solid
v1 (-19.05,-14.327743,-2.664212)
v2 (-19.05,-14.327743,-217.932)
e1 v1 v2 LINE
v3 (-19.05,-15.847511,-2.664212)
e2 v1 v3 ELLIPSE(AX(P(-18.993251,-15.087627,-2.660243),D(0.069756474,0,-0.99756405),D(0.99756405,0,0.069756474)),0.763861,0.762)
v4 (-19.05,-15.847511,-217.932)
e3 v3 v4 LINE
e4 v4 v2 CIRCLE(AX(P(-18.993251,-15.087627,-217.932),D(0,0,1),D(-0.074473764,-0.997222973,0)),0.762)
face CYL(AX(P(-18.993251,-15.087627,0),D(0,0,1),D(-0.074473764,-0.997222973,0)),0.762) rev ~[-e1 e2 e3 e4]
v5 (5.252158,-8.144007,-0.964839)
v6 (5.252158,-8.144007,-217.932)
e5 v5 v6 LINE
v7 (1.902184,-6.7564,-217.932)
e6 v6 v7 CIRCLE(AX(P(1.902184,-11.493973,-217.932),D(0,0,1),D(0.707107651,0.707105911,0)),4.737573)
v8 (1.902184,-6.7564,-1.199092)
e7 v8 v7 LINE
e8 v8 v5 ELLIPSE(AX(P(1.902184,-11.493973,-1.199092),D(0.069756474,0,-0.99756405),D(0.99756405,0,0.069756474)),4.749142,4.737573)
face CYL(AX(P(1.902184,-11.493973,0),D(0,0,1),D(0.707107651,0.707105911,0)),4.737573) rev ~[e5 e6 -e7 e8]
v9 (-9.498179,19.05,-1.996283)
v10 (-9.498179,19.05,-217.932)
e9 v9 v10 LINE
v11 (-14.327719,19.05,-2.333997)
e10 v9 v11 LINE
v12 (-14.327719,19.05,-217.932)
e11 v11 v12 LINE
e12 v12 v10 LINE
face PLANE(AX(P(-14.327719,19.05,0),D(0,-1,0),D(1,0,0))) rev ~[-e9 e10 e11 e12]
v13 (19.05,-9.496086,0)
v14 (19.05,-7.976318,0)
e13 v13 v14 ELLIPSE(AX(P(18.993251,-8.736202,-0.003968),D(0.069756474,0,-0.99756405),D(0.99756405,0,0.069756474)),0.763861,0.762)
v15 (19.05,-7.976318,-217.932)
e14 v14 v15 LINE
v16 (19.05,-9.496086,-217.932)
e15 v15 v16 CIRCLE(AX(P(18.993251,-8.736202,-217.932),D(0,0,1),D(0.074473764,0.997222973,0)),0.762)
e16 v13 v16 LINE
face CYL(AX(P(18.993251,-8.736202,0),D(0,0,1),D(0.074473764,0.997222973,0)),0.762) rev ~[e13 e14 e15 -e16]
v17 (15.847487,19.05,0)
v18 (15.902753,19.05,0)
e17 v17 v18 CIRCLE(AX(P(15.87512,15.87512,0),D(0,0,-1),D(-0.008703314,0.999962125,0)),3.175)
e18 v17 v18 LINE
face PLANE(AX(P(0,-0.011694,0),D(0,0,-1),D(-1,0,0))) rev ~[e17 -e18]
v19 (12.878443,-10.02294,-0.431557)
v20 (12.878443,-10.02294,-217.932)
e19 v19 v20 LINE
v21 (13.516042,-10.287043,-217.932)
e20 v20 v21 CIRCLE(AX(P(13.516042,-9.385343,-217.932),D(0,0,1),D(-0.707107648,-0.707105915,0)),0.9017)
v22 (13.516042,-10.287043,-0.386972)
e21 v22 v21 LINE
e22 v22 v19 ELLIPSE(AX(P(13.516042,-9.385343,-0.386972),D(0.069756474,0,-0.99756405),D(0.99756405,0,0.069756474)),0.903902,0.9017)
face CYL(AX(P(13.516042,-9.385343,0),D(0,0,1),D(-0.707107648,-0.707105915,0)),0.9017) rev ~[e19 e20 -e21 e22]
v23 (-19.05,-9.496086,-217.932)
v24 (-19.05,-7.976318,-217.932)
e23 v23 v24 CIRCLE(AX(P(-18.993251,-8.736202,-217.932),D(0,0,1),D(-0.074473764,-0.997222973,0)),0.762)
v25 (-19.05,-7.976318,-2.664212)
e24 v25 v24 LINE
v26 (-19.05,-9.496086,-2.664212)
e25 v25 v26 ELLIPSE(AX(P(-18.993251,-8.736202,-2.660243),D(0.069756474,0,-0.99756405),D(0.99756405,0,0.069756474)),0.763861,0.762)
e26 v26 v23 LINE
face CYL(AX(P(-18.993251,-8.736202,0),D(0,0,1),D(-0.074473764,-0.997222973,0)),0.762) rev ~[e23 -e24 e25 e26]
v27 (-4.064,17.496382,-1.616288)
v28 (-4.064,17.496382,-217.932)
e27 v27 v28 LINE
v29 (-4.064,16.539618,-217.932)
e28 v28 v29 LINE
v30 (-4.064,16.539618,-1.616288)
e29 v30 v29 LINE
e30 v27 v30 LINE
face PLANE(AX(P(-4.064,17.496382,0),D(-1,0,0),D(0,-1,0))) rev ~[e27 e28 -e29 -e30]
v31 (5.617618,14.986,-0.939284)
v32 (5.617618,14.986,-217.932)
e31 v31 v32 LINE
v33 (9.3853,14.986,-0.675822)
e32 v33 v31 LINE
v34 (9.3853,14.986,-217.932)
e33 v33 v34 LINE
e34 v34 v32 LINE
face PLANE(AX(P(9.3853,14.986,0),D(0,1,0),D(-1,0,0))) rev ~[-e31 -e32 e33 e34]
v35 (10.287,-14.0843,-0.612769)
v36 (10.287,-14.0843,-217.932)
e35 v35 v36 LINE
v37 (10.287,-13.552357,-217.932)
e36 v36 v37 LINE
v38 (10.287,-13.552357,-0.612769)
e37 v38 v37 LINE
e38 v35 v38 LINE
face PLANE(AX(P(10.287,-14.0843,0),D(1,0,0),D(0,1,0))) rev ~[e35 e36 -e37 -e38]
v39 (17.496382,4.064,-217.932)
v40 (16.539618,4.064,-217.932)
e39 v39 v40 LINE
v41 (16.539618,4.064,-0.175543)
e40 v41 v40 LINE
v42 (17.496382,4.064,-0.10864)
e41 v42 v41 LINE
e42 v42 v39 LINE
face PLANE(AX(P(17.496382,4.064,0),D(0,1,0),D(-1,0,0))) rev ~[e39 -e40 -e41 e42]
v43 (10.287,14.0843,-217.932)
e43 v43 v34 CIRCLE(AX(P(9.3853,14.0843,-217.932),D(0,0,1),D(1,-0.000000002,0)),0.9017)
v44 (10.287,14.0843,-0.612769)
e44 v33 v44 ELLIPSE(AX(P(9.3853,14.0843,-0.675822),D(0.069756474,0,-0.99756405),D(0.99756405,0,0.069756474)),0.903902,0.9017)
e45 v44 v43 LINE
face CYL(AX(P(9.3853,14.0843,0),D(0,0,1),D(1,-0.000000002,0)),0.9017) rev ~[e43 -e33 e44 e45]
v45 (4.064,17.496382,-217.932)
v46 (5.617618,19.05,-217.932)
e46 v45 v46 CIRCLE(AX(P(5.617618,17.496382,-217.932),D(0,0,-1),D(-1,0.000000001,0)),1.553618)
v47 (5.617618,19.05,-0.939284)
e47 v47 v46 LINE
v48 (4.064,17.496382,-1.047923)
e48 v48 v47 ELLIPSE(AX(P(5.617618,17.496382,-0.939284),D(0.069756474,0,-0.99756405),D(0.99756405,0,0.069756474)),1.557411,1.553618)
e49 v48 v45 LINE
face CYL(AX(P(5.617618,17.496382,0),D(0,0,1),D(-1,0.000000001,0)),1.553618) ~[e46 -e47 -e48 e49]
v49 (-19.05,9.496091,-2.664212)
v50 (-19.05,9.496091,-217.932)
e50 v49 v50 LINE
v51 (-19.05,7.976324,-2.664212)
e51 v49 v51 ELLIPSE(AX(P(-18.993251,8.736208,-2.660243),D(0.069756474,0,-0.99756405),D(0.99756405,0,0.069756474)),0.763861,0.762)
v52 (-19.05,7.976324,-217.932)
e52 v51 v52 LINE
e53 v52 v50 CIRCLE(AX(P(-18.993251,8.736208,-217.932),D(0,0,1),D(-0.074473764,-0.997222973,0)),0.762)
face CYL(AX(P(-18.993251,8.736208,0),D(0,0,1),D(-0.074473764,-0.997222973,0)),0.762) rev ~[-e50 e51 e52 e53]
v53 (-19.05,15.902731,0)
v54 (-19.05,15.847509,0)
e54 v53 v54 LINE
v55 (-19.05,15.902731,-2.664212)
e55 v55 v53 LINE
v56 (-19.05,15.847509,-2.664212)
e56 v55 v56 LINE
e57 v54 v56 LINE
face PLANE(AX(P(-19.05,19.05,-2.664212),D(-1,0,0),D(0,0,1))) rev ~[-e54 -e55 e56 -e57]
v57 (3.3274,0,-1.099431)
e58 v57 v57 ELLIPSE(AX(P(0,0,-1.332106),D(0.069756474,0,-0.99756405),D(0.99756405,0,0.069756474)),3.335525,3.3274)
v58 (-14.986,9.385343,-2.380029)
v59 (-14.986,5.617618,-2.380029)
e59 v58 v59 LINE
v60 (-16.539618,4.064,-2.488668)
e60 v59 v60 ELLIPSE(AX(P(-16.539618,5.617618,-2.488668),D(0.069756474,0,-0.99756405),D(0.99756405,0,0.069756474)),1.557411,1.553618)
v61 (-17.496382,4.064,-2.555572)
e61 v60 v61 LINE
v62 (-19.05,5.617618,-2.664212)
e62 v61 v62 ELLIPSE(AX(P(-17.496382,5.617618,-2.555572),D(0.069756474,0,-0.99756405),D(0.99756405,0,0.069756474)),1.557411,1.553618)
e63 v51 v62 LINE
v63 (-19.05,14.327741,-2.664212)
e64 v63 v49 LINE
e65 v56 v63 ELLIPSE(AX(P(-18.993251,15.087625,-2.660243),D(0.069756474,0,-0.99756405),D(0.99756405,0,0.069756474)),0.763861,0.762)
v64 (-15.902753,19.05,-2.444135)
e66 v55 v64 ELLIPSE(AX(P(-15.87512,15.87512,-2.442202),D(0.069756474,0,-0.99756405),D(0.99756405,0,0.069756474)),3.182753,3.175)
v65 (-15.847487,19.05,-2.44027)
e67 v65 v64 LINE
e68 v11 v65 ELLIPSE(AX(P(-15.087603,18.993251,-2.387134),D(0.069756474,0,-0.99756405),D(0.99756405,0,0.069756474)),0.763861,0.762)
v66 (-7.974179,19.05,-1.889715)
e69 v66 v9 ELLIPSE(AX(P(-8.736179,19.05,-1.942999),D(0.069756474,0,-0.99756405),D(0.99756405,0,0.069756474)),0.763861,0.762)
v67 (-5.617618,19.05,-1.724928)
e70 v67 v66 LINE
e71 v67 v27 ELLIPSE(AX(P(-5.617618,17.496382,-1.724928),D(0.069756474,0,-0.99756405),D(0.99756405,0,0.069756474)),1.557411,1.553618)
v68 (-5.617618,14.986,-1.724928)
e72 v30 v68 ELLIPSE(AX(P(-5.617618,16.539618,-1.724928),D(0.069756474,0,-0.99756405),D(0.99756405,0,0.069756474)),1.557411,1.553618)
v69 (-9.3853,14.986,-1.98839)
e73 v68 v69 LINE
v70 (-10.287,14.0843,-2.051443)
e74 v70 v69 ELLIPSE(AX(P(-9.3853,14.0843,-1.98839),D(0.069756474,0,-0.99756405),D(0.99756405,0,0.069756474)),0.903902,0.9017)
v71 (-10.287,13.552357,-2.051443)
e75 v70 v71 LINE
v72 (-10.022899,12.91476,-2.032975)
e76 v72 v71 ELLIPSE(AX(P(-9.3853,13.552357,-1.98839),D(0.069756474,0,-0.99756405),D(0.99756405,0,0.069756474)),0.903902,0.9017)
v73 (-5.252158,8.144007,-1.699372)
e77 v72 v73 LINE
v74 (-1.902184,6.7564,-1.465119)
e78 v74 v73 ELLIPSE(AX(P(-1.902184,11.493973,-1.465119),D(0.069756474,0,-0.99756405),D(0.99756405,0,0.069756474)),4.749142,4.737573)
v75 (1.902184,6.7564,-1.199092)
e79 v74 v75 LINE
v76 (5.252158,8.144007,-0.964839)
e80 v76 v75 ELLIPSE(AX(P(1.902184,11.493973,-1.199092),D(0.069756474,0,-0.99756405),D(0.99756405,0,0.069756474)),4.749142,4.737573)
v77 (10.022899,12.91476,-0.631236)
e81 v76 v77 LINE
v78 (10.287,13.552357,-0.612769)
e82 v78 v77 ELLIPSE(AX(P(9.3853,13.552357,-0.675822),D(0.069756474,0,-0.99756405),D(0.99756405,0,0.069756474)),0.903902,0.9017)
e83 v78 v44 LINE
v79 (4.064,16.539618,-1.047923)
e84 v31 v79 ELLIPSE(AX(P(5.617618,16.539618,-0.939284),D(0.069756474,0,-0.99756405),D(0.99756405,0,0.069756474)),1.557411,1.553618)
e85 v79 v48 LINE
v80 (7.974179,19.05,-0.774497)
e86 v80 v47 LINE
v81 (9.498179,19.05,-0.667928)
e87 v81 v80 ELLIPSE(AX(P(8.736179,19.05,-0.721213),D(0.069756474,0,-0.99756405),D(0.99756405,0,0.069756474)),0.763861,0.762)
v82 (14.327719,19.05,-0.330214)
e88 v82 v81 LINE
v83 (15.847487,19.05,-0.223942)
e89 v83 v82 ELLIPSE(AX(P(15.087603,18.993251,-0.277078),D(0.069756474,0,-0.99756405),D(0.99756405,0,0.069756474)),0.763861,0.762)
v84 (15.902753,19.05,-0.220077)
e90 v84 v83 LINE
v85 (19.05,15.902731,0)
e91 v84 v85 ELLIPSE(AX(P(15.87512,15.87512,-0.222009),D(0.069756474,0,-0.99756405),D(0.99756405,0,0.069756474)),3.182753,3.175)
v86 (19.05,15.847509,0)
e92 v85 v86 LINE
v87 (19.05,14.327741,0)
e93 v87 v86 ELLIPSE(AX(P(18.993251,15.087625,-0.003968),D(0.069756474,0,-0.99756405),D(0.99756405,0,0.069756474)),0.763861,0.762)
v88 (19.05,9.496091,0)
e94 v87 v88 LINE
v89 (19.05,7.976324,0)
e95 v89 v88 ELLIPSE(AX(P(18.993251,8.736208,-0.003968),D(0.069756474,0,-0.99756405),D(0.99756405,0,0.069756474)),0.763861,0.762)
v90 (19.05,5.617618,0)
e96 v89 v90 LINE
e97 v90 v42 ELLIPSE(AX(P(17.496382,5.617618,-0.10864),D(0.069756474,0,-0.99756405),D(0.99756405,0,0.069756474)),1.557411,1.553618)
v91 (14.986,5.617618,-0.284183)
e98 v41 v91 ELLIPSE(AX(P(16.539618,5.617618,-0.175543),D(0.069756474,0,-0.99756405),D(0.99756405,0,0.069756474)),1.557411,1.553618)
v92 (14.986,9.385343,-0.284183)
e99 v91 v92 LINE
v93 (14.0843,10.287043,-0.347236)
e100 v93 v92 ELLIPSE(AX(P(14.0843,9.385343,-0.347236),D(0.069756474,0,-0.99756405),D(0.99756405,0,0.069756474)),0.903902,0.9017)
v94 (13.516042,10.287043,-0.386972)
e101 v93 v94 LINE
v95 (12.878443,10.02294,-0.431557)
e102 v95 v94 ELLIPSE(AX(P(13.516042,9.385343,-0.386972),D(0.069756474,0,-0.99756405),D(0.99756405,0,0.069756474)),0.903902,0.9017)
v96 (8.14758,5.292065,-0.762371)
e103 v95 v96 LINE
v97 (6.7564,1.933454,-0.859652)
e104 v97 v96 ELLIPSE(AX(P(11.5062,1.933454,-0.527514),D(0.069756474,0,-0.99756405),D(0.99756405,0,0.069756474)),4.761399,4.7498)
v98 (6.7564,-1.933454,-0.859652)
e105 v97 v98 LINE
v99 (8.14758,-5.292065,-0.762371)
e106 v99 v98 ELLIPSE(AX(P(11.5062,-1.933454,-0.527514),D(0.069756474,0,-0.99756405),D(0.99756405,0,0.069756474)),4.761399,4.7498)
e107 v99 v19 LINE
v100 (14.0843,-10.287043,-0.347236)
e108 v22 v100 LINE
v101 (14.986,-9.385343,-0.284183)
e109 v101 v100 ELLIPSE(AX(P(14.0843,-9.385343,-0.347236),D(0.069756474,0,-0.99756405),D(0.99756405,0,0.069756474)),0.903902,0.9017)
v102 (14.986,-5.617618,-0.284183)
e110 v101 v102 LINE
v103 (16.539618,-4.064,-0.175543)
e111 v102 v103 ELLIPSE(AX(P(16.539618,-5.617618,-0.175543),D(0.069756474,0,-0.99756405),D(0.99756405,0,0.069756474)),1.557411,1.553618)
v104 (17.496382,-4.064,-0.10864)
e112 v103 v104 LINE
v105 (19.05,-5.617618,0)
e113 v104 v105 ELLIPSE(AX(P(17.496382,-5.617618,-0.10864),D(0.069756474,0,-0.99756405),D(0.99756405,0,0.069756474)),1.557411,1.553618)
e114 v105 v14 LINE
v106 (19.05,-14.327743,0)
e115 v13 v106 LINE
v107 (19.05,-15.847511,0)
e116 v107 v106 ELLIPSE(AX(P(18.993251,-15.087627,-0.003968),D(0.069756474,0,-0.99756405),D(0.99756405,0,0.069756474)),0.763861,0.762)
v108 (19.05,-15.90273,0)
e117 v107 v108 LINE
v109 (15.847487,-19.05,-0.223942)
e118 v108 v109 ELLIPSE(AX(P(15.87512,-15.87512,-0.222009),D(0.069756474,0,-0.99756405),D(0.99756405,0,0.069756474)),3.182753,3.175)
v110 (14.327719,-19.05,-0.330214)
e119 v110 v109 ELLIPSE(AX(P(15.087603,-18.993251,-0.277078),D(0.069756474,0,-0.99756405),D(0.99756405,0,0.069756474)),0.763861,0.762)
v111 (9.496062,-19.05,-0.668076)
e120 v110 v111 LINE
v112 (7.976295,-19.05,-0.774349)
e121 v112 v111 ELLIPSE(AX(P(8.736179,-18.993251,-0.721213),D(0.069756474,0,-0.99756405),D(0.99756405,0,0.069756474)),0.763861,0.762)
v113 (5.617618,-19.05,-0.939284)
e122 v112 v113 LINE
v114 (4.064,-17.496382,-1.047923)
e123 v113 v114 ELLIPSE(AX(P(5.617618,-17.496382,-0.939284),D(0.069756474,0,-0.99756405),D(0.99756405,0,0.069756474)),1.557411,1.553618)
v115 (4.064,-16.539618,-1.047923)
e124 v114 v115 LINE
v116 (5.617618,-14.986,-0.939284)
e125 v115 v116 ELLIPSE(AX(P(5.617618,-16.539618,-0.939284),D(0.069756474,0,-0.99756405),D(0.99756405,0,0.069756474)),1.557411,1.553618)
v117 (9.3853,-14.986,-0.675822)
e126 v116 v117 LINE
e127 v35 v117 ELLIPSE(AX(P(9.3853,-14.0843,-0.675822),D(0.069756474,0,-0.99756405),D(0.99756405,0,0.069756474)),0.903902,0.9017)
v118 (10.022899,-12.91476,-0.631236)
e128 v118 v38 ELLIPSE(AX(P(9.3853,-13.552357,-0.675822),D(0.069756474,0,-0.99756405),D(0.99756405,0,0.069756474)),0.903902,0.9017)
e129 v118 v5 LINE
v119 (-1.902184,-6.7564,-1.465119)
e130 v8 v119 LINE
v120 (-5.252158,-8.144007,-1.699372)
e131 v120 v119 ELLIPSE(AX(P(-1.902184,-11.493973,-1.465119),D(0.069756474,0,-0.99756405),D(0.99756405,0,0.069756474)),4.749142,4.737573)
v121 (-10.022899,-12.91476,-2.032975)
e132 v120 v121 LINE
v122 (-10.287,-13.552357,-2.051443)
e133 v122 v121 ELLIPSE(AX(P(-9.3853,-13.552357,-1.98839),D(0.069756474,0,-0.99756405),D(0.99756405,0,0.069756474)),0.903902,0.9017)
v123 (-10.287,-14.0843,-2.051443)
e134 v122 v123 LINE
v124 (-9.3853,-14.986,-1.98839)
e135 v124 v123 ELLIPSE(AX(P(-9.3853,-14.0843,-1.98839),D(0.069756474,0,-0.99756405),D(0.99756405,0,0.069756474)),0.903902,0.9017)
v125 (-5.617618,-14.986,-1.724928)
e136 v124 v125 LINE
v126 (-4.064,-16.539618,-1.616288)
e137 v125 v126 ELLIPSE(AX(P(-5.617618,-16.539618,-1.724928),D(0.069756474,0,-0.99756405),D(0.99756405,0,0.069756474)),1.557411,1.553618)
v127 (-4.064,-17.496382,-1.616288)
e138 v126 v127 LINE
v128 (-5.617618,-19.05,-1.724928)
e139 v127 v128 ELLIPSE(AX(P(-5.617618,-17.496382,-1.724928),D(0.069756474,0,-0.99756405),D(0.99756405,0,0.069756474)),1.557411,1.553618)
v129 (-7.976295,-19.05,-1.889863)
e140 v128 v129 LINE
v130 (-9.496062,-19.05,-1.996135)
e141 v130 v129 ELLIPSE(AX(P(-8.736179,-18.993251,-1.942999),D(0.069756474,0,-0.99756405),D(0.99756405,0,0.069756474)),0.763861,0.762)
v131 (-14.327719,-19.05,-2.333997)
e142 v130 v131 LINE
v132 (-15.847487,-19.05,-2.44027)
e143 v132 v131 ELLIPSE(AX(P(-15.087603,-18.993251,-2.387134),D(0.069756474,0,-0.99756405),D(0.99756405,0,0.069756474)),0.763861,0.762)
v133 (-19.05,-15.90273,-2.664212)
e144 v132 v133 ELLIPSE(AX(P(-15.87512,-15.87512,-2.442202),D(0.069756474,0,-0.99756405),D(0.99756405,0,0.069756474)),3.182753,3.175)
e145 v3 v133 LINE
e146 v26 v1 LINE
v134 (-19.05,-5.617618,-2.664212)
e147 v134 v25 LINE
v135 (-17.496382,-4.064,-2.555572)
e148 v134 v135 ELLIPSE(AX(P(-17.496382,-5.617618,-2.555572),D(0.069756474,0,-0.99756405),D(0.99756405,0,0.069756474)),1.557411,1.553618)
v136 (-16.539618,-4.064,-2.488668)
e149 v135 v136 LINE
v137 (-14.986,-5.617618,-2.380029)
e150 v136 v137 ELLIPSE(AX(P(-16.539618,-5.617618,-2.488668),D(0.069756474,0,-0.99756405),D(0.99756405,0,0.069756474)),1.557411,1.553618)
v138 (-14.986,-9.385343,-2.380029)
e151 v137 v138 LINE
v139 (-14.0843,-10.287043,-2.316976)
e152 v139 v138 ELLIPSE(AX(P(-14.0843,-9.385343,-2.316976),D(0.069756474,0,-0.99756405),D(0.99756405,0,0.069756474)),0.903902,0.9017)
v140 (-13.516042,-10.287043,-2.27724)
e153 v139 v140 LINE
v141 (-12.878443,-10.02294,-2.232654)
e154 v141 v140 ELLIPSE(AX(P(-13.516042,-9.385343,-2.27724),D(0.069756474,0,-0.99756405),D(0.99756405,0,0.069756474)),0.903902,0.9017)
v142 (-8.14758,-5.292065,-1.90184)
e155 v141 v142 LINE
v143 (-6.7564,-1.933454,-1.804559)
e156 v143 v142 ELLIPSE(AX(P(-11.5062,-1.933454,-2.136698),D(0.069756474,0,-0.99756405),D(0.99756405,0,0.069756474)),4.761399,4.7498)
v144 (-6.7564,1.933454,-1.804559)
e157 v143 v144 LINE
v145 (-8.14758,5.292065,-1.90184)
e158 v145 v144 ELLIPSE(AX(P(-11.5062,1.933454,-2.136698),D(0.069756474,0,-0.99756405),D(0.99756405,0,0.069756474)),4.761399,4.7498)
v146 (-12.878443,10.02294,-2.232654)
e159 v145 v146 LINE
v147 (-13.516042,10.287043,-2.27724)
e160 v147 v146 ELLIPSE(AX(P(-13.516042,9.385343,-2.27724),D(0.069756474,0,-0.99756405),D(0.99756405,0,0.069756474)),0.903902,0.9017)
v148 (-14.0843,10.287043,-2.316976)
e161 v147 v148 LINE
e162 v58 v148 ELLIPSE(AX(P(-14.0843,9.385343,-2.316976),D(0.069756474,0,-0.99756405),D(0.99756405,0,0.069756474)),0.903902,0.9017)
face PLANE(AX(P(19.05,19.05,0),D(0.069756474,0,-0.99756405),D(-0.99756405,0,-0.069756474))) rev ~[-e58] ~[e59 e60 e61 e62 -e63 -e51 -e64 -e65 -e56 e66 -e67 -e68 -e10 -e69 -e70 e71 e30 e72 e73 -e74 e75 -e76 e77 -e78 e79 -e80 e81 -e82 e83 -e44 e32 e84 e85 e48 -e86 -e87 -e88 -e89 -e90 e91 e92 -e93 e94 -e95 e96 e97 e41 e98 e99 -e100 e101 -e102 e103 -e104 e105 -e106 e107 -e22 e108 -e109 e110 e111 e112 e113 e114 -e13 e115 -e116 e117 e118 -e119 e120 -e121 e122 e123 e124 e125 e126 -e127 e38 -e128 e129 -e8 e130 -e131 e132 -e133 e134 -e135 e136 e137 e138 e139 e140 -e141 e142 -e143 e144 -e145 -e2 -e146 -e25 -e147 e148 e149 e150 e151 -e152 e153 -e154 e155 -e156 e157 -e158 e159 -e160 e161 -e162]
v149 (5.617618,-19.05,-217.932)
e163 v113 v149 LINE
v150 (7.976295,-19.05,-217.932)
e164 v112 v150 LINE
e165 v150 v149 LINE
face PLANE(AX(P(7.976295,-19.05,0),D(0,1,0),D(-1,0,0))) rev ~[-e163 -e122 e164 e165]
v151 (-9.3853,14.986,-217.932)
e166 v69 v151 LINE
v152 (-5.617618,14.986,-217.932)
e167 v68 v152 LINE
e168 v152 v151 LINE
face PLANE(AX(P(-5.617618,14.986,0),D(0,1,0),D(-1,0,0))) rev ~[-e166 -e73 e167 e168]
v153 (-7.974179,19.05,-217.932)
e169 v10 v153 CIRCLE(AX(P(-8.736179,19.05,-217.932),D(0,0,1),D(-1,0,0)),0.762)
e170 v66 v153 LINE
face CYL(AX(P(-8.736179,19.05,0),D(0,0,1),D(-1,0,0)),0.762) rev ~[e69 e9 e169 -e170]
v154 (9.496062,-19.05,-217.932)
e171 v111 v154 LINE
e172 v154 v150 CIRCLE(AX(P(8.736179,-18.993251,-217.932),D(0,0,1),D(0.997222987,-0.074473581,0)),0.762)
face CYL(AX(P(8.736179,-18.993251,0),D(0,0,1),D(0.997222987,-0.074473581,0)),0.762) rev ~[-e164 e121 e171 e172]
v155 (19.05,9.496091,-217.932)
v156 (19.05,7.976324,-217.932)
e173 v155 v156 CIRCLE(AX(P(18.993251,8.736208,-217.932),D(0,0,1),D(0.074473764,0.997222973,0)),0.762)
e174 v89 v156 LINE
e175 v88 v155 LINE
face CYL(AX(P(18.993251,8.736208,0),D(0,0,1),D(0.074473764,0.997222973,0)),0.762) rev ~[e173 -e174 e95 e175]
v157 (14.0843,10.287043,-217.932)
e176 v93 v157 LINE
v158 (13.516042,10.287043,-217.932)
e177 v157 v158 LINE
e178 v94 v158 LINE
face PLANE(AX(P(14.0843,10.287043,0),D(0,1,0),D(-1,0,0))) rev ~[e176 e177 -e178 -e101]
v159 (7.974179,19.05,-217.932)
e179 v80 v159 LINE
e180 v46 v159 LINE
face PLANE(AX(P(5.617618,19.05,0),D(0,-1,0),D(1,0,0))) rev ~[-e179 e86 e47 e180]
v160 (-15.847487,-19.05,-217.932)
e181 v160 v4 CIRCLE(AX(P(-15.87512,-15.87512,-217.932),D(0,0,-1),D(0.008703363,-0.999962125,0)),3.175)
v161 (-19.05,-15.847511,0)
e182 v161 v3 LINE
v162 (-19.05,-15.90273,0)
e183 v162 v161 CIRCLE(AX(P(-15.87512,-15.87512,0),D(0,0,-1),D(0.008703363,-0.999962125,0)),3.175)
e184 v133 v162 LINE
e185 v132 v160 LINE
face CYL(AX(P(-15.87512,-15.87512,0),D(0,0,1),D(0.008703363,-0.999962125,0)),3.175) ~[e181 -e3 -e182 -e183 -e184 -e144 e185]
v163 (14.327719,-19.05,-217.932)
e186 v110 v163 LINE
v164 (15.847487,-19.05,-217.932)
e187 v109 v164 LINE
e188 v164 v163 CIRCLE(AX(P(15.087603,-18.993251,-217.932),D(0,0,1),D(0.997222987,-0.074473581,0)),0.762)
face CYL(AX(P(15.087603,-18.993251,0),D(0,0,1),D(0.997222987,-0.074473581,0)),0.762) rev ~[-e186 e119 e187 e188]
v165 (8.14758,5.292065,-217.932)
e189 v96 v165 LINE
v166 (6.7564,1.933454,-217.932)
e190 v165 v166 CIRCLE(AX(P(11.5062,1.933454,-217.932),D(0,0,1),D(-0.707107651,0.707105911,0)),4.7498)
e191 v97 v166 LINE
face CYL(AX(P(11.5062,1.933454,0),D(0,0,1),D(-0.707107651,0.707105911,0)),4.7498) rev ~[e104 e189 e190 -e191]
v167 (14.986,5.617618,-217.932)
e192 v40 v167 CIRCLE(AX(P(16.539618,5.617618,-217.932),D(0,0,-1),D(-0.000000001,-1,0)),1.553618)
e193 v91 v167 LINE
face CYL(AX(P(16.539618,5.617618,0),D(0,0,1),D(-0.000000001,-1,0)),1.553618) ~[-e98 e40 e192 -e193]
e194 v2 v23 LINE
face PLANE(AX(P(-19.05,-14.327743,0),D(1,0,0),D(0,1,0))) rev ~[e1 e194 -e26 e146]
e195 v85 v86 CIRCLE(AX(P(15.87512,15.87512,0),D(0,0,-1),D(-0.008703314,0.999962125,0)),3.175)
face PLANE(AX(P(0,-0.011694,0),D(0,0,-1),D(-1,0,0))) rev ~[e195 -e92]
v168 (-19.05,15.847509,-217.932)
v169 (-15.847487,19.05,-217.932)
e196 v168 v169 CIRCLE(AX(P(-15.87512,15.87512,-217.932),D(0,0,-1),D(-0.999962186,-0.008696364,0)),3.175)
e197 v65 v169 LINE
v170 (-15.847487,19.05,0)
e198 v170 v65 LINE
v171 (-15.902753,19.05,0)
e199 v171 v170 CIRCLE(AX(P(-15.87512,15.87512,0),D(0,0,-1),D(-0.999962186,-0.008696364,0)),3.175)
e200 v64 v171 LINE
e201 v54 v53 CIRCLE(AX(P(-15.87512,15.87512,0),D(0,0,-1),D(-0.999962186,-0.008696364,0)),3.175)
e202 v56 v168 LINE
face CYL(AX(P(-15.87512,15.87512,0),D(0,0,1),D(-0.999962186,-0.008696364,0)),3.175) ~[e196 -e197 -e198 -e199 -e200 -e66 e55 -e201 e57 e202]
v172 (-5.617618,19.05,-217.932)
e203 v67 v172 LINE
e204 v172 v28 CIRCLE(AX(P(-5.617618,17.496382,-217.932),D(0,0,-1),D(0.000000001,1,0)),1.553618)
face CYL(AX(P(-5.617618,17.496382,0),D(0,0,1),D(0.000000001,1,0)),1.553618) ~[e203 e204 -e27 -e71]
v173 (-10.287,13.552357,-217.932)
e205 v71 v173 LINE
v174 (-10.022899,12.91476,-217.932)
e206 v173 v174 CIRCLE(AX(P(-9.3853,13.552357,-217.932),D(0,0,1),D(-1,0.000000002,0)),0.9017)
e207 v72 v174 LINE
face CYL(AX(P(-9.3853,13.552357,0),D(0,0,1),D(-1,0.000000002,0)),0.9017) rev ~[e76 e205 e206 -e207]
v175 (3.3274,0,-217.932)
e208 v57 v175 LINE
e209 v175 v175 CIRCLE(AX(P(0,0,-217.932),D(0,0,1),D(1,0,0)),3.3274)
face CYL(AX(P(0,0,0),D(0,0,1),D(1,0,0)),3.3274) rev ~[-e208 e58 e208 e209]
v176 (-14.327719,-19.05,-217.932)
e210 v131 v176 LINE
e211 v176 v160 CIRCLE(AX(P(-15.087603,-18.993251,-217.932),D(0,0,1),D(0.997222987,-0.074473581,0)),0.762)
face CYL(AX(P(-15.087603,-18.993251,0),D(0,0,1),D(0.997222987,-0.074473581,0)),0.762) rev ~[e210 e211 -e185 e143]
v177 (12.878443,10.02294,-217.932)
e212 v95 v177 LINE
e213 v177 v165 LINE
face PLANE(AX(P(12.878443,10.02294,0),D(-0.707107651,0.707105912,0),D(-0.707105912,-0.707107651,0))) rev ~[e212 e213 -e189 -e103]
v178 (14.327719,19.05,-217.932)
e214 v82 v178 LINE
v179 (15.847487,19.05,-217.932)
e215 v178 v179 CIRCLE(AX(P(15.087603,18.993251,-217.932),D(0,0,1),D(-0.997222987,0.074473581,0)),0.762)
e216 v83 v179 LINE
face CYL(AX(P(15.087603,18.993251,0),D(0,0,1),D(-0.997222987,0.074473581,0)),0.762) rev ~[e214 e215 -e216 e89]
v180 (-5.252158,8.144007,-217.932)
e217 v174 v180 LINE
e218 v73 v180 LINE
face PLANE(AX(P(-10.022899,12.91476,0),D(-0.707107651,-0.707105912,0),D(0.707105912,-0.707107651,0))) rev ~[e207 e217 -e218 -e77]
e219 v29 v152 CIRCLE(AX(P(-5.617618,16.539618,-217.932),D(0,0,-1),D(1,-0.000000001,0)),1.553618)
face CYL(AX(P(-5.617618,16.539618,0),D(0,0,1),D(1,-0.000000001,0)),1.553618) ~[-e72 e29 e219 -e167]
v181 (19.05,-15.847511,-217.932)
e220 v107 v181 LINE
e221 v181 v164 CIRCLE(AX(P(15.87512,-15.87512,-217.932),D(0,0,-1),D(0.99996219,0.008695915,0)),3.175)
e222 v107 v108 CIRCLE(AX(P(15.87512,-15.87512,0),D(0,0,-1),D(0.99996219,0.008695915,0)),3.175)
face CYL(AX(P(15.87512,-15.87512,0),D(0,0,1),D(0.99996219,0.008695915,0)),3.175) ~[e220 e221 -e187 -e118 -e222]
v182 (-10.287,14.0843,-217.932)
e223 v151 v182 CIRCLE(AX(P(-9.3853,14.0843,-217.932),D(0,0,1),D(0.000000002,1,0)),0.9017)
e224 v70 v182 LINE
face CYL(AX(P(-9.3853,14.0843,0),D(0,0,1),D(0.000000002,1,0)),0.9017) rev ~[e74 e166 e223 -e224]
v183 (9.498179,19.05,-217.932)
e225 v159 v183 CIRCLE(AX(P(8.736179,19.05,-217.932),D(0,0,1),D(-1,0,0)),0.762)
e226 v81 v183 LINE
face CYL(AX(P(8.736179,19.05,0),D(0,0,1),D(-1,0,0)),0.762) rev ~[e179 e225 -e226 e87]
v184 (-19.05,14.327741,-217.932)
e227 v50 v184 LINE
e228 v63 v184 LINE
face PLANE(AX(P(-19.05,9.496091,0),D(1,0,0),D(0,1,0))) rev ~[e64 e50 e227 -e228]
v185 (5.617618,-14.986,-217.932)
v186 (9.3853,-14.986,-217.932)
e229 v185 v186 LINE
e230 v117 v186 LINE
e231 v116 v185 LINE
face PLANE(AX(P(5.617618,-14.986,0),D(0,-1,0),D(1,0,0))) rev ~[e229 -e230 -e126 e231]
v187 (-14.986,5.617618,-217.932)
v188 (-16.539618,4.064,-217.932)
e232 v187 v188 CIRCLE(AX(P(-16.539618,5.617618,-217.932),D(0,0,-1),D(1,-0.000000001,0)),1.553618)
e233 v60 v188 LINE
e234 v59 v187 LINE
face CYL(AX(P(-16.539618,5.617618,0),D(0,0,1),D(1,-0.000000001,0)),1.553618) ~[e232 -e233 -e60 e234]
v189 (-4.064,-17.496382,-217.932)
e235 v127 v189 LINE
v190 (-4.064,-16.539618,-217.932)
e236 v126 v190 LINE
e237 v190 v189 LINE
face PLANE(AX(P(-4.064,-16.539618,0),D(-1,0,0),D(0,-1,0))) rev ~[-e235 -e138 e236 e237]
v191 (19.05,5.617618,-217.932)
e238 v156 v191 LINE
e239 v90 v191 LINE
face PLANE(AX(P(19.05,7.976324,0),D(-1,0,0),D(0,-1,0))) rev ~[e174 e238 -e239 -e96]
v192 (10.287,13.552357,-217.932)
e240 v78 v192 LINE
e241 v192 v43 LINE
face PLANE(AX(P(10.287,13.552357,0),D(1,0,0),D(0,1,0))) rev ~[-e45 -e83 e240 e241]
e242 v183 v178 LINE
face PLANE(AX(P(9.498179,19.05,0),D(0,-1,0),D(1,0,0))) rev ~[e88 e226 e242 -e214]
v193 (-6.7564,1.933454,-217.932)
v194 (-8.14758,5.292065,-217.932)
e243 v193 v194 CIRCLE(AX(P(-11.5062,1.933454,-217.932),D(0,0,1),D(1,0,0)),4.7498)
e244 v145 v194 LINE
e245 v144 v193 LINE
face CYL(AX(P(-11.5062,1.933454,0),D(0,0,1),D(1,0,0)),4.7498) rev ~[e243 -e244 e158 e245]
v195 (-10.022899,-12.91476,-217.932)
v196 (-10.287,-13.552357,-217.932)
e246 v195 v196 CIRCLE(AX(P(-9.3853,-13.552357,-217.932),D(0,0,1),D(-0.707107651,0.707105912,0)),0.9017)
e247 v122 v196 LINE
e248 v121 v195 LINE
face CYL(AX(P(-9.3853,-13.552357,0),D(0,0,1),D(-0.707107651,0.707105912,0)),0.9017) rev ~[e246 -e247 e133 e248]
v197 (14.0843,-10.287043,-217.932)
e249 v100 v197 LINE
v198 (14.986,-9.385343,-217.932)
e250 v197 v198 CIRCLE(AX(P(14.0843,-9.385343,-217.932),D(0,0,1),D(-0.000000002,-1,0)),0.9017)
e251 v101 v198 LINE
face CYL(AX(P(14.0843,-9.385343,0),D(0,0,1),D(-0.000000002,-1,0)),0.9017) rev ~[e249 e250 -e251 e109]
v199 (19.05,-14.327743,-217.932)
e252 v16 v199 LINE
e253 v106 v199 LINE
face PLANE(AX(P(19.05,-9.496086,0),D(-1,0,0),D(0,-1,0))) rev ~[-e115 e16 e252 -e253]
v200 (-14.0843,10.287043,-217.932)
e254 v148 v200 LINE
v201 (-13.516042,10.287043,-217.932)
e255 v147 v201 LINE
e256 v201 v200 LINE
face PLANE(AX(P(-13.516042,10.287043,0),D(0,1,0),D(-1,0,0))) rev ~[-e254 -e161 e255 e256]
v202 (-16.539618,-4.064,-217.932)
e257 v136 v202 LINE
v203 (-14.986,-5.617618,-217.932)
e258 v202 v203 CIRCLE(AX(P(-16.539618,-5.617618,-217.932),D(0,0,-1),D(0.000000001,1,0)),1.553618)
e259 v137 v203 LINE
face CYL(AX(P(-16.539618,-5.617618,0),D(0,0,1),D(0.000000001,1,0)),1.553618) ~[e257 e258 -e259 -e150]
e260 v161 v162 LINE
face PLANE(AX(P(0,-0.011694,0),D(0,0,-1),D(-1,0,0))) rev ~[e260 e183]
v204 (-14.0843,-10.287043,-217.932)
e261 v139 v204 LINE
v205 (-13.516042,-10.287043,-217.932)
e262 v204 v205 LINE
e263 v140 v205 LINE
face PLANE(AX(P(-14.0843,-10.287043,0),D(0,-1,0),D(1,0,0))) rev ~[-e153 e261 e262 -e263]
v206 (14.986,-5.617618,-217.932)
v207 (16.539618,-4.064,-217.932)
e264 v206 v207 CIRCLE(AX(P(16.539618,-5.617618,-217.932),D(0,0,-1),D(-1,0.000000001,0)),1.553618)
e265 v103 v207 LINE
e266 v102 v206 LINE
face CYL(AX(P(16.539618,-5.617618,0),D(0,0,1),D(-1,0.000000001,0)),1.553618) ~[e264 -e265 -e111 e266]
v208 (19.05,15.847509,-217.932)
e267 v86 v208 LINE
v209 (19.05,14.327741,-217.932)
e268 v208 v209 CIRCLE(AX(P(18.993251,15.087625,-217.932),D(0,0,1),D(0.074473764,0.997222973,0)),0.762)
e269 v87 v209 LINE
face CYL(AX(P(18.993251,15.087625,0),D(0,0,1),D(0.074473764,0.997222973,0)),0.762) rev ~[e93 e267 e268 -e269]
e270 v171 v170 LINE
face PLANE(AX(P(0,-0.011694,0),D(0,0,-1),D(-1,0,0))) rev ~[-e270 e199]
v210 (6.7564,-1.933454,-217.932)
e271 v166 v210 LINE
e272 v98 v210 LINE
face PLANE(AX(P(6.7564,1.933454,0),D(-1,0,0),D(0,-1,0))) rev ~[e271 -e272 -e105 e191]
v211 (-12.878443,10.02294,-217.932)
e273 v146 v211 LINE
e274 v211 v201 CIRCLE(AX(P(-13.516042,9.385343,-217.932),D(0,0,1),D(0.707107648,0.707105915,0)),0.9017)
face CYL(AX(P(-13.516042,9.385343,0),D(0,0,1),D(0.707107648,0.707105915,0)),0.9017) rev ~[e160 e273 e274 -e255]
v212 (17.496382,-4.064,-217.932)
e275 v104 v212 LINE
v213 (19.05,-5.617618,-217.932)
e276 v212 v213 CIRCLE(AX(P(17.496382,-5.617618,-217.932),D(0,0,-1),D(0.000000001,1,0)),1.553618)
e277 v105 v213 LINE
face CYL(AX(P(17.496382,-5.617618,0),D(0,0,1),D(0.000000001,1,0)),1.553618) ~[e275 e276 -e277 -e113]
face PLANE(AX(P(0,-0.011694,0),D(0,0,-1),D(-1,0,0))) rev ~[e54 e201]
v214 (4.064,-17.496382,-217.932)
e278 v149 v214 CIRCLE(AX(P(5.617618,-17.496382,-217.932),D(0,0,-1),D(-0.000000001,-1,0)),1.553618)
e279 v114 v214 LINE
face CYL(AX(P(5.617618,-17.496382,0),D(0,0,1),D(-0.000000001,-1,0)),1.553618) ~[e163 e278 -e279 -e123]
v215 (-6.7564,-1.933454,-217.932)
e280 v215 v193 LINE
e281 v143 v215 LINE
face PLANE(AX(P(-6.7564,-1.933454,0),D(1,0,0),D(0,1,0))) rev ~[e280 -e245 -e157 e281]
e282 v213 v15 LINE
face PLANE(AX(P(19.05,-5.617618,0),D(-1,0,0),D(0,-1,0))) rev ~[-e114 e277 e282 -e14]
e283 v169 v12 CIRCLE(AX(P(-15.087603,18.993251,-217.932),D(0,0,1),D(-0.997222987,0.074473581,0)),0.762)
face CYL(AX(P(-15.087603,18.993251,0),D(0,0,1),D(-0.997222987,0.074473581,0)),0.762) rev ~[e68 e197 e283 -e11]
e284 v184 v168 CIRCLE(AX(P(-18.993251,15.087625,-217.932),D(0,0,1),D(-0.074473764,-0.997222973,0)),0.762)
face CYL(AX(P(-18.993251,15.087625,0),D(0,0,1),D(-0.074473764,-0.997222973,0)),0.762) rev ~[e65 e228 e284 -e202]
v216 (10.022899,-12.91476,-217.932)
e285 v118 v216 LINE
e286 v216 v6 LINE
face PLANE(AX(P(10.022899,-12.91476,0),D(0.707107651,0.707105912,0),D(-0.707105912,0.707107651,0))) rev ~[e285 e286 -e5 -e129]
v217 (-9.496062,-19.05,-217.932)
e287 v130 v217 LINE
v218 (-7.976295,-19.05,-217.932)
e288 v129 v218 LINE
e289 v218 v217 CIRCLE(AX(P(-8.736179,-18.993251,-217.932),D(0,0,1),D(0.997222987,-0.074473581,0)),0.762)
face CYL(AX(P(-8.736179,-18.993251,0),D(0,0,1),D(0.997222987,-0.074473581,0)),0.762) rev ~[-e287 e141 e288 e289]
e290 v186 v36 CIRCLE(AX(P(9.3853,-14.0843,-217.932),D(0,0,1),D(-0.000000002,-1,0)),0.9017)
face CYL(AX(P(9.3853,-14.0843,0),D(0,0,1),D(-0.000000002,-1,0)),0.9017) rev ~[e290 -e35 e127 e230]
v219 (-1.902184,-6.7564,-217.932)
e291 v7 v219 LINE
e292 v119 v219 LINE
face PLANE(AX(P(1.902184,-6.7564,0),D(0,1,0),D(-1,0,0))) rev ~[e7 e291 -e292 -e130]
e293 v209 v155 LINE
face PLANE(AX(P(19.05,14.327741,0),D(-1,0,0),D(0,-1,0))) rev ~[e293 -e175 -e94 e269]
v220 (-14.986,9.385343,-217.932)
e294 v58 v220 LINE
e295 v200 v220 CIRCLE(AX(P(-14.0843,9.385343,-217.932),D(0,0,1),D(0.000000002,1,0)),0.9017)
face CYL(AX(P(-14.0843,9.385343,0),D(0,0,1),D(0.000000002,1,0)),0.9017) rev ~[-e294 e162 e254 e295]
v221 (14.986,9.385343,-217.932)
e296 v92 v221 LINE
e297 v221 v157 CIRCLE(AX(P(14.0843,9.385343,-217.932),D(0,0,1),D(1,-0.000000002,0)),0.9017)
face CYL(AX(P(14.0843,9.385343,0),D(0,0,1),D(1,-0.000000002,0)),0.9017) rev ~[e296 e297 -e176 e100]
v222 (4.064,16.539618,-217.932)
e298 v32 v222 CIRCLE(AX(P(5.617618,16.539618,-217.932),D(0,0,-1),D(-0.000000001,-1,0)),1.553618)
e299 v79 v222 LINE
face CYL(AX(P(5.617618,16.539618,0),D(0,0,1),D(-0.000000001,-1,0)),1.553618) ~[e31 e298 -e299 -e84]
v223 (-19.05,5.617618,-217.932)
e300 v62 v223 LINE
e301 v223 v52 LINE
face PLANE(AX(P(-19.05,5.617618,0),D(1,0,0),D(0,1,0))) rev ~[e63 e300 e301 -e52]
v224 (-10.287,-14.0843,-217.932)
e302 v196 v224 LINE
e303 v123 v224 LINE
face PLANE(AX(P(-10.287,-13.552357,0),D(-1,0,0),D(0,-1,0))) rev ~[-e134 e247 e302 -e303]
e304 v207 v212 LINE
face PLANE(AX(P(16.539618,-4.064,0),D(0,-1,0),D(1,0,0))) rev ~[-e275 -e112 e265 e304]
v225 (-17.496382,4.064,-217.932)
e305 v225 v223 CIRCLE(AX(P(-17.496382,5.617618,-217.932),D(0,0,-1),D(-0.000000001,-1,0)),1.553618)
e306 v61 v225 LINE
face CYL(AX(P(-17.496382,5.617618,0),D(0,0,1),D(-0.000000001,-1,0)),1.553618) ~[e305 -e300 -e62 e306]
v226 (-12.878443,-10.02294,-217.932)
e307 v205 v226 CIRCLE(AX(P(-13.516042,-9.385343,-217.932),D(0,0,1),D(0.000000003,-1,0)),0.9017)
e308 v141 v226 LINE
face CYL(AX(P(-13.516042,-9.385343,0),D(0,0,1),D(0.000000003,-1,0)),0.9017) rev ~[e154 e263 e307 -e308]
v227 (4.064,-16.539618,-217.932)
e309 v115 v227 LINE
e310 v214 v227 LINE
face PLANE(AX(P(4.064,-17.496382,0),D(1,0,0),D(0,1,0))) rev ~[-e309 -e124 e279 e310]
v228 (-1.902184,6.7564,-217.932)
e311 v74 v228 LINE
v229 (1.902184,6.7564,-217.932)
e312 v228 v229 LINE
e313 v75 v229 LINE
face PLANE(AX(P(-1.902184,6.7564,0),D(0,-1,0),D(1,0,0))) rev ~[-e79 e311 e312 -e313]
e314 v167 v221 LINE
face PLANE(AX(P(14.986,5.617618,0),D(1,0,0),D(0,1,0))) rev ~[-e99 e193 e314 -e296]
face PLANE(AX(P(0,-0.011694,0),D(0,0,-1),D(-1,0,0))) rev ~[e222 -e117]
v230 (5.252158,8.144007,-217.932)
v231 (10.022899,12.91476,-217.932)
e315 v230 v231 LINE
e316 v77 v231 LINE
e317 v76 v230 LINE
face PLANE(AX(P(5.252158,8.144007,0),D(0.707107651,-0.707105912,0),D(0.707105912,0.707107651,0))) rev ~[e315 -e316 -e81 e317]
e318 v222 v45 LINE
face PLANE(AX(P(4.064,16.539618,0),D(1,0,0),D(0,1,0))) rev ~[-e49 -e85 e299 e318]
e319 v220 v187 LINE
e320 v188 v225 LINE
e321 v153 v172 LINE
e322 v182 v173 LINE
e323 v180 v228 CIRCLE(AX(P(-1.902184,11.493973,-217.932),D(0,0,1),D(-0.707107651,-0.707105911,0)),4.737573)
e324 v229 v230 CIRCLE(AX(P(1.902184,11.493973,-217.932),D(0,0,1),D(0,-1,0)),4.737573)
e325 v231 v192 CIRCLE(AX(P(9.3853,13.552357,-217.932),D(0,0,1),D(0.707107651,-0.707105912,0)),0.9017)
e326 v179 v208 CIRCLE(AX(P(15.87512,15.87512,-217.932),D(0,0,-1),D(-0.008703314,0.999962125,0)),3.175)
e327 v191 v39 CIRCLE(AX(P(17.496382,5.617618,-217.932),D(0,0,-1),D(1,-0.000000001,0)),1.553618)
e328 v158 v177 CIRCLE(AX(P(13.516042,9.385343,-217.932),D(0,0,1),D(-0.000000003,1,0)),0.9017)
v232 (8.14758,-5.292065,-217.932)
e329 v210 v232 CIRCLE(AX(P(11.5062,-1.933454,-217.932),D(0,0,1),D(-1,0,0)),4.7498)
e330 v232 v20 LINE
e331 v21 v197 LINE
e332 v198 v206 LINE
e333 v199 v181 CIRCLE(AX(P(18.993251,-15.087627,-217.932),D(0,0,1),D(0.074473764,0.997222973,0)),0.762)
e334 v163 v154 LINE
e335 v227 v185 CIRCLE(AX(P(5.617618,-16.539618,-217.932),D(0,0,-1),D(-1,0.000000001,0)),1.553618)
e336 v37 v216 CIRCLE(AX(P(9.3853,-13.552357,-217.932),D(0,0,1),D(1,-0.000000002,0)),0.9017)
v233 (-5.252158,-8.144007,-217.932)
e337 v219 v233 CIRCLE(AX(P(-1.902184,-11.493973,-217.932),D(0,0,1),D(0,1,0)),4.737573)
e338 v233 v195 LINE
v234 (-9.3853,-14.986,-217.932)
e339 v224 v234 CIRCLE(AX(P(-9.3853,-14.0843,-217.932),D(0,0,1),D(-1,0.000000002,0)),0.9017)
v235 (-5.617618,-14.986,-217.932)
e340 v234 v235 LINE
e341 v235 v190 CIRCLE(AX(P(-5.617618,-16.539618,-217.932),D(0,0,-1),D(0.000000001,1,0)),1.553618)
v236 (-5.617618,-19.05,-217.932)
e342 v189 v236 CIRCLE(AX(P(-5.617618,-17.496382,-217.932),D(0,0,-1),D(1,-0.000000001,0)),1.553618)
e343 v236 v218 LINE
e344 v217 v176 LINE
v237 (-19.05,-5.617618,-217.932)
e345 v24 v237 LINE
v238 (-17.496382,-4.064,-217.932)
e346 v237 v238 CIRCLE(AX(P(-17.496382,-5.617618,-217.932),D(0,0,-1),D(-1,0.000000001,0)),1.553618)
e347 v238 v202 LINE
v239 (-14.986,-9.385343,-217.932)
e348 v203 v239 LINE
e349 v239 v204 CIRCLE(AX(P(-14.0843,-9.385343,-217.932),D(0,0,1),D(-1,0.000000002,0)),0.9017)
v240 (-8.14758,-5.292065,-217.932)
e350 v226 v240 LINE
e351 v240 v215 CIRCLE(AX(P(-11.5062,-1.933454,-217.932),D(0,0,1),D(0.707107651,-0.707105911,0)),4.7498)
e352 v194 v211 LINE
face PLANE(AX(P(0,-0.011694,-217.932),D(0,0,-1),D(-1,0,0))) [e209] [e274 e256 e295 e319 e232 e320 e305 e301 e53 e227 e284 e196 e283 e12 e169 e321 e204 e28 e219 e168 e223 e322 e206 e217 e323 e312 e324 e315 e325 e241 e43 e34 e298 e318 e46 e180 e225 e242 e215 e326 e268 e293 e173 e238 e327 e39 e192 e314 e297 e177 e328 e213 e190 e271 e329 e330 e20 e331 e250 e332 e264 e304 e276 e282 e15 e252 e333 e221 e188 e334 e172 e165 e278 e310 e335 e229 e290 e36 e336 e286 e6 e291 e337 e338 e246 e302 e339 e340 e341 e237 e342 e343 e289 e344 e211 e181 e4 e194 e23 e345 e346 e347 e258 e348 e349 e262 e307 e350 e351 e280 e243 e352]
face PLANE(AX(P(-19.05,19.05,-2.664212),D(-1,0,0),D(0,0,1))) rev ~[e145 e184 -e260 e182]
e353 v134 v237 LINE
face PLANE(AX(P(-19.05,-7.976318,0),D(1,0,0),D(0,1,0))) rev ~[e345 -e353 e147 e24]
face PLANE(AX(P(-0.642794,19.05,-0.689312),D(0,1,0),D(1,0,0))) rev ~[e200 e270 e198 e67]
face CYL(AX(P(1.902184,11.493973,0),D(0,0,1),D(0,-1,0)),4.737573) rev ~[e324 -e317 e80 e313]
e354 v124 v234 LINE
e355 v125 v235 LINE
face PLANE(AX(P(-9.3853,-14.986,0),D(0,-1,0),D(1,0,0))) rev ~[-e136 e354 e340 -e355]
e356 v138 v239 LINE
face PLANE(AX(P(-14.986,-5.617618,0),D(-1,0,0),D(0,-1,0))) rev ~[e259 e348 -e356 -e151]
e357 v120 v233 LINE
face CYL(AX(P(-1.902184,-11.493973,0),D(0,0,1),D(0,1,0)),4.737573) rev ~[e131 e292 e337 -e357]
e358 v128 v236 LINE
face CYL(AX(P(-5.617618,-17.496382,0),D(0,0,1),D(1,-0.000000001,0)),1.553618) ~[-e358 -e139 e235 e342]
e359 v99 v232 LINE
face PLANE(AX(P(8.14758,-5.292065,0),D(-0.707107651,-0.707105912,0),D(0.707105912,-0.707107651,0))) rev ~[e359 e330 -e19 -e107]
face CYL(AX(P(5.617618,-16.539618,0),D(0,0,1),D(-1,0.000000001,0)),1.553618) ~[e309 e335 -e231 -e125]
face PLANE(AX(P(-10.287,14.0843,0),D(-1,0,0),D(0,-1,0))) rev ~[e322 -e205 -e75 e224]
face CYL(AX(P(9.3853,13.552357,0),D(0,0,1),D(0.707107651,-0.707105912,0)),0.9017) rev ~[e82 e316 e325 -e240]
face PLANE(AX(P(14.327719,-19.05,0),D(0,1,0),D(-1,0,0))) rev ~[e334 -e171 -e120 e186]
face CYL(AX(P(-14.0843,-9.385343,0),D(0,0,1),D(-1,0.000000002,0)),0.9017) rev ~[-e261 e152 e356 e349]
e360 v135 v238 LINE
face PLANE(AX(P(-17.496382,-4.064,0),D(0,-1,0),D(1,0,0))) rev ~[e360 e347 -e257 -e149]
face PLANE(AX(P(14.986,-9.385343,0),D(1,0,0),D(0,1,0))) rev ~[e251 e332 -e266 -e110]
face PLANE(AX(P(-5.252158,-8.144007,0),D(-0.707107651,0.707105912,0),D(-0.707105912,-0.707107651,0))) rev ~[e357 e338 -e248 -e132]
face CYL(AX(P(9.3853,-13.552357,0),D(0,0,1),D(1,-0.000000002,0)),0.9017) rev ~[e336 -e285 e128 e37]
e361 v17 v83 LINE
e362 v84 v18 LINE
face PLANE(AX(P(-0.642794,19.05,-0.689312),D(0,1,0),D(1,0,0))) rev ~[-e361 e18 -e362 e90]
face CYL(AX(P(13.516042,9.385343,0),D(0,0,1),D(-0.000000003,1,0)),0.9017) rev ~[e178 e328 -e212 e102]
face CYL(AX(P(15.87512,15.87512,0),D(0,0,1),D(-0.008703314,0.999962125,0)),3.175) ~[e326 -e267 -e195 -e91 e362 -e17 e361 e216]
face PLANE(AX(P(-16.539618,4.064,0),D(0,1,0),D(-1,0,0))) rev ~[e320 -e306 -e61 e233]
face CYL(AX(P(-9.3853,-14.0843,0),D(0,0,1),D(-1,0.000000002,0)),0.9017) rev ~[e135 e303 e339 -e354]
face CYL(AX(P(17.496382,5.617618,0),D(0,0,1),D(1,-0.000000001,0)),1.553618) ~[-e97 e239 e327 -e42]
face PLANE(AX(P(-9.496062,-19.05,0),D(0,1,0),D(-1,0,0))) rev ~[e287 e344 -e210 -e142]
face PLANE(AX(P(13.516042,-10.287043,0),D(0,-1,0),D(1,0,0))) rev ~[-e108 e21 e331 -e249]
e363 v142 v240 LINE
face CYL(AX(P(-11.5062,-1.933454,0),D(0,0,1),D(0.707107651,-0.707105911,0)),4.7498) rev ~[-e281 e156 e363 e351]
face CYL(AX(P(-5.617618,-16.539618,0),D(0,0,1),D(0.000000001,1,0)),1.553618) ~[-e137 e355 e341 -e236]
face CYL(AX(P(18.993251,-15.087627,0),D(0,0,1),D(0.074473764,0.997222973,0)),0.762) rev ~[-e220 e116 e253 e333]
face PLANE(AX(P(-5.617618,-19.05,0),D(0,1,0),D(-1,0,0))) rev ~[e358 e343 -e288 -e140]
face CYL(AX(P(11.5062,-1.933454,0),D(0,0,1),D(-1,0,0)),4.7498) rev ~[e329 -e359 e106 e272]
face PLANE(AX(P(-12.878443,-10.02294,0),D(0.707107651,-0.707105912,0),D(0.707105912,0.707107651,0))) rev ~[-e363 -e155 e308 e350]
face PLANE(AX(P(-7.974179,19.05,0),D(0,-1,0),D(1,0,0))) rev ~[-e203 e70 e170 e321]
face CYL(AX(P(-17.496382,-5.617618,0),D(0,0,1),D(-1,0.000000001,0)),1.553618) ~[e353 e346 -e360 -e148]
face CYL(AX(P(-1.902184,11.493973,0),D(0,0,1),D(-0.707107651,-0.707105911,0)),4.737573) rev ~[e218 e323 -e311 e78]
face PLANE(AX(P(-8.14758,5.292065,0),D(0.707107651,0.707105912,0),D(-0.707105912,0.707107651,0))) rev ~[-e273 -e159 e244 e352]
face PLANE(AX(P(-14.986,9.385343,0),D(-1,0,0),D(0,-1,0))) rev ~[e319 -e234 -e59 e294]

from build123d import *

# Parameters (mm, degrees)
SKETCH1_R          = 3.3274
EXTRUDE1_DEPTH     = 217.932
CUT_EXTRUDE1_DEPTH = 127


with BuildPart() as part:
    # Sketch1 → Extrude1 (new body)
    with BuildSketch(Plane.XY):
        with BuildLine():
            Line((-10.022898969, 12.91475973), (-5.252158105, 8.144007132))
            ThreePointArc((-5.252158105, 8.144007132), (-3.715177372, 7.117027388), (-1.902183975, 6.7564))
            Line((-1.902183975, 6.7564), (1.902183975, 6.7564))
            ThreePointArc((1.902183975, 6.7564), (3.715177372, 7.117027388), (5.252158105, 8.144007132))
            Line((5.252158105, 8.144007132), (10.022898969, 12.91475973))
            ThreePointArc((10.022898969, 12.91475973), (10.218362387, 13.207291992), (10.287, 13.552357131))
            Line((10.287, 13.552357131), (10.287, 14.0843))
            ThreePointArc((10.287, 14.0843), (10.022898185, 14.721898185), (9.3853, 14.986))
            Line((9.3853, 14.986), (5.617617549, 14.986))
            ThreePointArc((5.617617549, 14.986), (4.519044045, 15.441044045), (4.064, 16.539617549))
            Line((4.064, 16.539617549), (4.064, 17.496382451))
            ThreePointArc((4.064, 17.496382451), (4.519044045, 18.594955955), (5.617617549, 19.05))
            Line((5.617617549, 19.05), (7.974178704, 19.05))
            ThreePointArc((7.974178704, 19.05), (8.736178704, 18.288), (9.498178704, 19.05))
            Line((9.498178704, 19.05), (14.327719207, 19.05))
            ThreePointArc((14.327719207, 19.05), (15.087603123, 18.231251131), (15.847487039, 19.05))
            ThreePointArc((15.847487039, 19.05), (18.120176289, 18.120192083), (19.05, 15.847509295))
            ThreePointArc((19.05, 15.847509295), (18.231250992, 15.08762539), (19.05, 14.327741484))
            Line((19.05, 14.327741484), (19.05, 9.496091471))
            ThreePointArc((19.05, 9.496091471), (18.231250992, 8.736207565), (19.05, 7.97632366))
            Line((19.05, 7.97632366), (19.05, 5.617617549))
            ThreePointArc((19.05, 5.617617549), (18.594955955, 4.519044045), (17.496382451, 4.064))
            Line((17.496382451, 4.064), (16.539617549, 4.064))
            ThreePointArc((16.539617549, 4.064), (15.441044045, 4.519044045), (14.986, 5.617617549))
            Line((14.986, 5.617617549), (14.986, 9.385342516))
            ThreePointArc((14.986, 9.385342516), (14.721898185, 10.022940701), (14.0843, 10.287042516))
            Line((14.0843, 10.287042516), (13.516042086, 10.287042516))
            ThreePointArc((13.516042086, 10.287042516), (13.170975923, 10.218404478), (12.878443117, 10.022939917))
            Line((12.878443117, 10.022939917), (8.14758008, 5.292065243))
            ThreePointArc((8.14758008, 5.292065243), (7.117955879, 3.751120653), (6.7564, 1.933453584))
            Line((6.7564, 1.933453584), (6.7564, -1.933453584))
            ThreePointArc((6.7564, -1.933453584), (7.117955879, -3.751120653), (8.14758008, -5.292065243))
            Line((8.14758008, -5.292065243), (12.878443117, -10.022939917))
            ThreePointArc((12.878443117, -10.022939917), (13.170975923, -10.218404478), (13.516042086, -10.287042516))
            Line((13.516042086, -10.287042516), (14.0843, -10.287042516))
            ThreePointArc((14.0843, -10.287042516), (14.721898185, -10.022940701), (14.986, -9.385342516))
            Line((14.986, -9.385342516), (14.986, -5.617617549))
            ThreePointArc((14.986, -5.617617549), (15.441044045, -4.519044045), (16.539617549, -4.064))
            Line((16.539617549, -4.064), (17.496382451, -4.064))
            ThreePointArc((17.496382451, -4.064), (18.594955955, -4.519044045), (19.05, -5.617617549))
            Line((19.05, -5.617617549), (19.05, -7.976318491))
            ThreePointArc((19.05, -7.976318491), (18.231250992, -8.736202396), (19.05, -9.496086302))
            Line((19.05, -9.496086302), (19.05, -14.32774291))
            ThreePointArc((19.05, -14.32774291), (18.231250992, -15.087626816), (19.05, -15.847510721))
            ThreePointArc((19.05, -15.847510721), (18.120175716, -18.120192644), (15.847486868, -19.05))
            ThreePointArc((15.847486868, -19.05), (15.087602952, -18.231251131), (14.327719036, -19.05))
            Line((14.327719036, -19.05), (9.496062448, -19.05))
            ThreePointArc((9.496062448, -19.05), (8.736178532, -18.231251131), (7.976294616, -19.05))
            Line((7.976294616, -19.05), (5.617617549, -19.05))
            ThreePointArc((5.617617549, -19.05), (4.519044045, -18.594955955), (4.064, -17.496382451))
            Line((4.064, -17.496382451), (4.064, -16.539617549))
            ThreePointArc((4.064, -16.539617549), (4.519044045, -15.441044045), (5.617617549, -14.986))
            Line((5.617617549, -14.986), (9.3853, -14.986))
            ThreePointArc((9.3853, -14.986), (10.022898185, -14.721898185), (10.287, -14.0843))
            Line((10.287, -14.0843), (10.287, -13.552357131))
            ThreePointArc((10.287, -13.552357131), (10.218362387, -13.207291992), (10.022898969, -12.91475973))
            Line((10.022898969, -12.91475973), (5.252158105, -8.144007132))
            ThreePointArc((5.252158105, -8.144007132), (3.715177372, -7.117027388), (1.902183975, -6.7564))
            Line((1.902183975, -6.7564), (-1.902183975, -6.7564))
            ThreePointArc((-1.902183975, -6.7564), (-3.715177372, -7.117027388), (-5.252158105, -8.144007132))
            Line((-5.252158105, -8.144007132), (-10.022898969, -12.91475973))
            ThreePointArc((-10.022898969, -12.91475973), (-10.218362387, -13.207291992), (-10.287, -13.552357131))
            Line((-10.287, -13.552357131), (-10.287, -14.0843))
            ThreePointArc((-10.287, -14.0843), (-10.022898185, -14.721898185), (-9.3853, -14.986))
            Line((-9.3853, -14.986), (-5.617617549, -14.986))
            ThreePointArc((-5.617617549, -14.986), (-4.519044045, -15.441044045), (-4.064, -16.539617549))
            Line((-4.064, -16.539617549), (-4.064, -17.496382451))
            ThreePointArc((-4.064, -17.496382451), (-4.519044045, -18.594955955), (-5.617617549, -19.05))
            Line((-5.617617549, -19.05), (-7.976294616, -19.05))
            ThreePointArc((-7.976294616, -19.05), (-8.736178532, -18.231251131), (-9.496062448, -19.05))
            Line((-9.496062448, -19.05), (-14.327719036, -19.05))
            ThreePointArc((-14.327719036, -19.05), (-15.087602952, -18.231251131), (-15.847486868, -19.05))
            ThreePointArc((-15.847486868, -19.05), (-18.120175716, -18.120192644), (-19.05, -15.847510721))
            ThreePointArc((-19.05, -15.847510721), (-18.231250992, -15.087626816), (-19.05, -14.32774291))
            Line((-19.05, -14.32774291), (-19.05, -9.496086302))
            ThreePointArc((-19.05, -9.496086302), (-18.231250992, -8.736202396), (-19.05, -7.976318491))
            Line((-19.05, -7.976318491), (-19.05, -5.617617549))
            ThreePointArc((-19.05, -5.617617549), (-18.594955955, -4.519044045), (-17.496382451, -4.064))
            Line((-17.496382451, -4.064), (-16.539617549, -4.064))
            ThreePointArc((-16.539617549, -4.064), (-15.441044045, -4.519044045), (-14.986, -5.617617549))
            Line((-14.986, -5.617617549), (-14.986, -9.385342516))
            ThreePointArc((-14.986, -9.385342516), (-14.721898185, -10.022940701), (-14.0843, -10.287042516))
            Line((-14.0843, -10.287042516), (-13.516042086, -10.287042516))
            ThreePointArc((-13.516042086, -10.287042516), (-13.170975923, -10.218404478), (-12.878443117, -10.022939917))
            Line((-12.878443117, -10.022939917), (-8.14758008, -5.292065243))
            ThreePointArc((-8.14758008, -5.292065243), (-7.117955879, -3.751120653), (-6.7564, -1.933453584))
            Line((-6.7564, -1.933453584), (-6.7564, 1.933453584))
            ThreePointArc((-6.7564, 1.933453584), (-7.117955879, 3.751120653), (-8.14758008, 5.292065243))
            Line((-8.14758008, 5.292065243), (-12.878443117, 10.022939917))
            ThreePointArc((-12.878443117, 10.022939917), (-13.170975923, 10.218404478), (-13.516042086, 10.287042516))
            Line((-13.516042086, 10.287042516), (-14.0843, 10.287042516))
            ThreePointArc((-14.0843, 10.287042516), (-14.721898185, 10.022940701), (-14.986, 9.385342516))
            Line((-14.986, 9.385342516), (-14.986, 5.617617549))
            ThreePointArc((-14.986, 5.617617549), (-15.441044045, 4.519044045), (-16.539617549, 4.064))
            Line((-16.539617549, 4.064), (-17.496382451, 4.064))
            ThreePointArc((-17.496382451, 4.064), (-18.594955955, 4.519044045), (-19.05, 5.617617549))
            Line((-19.05, 5.617617549), (-19.05, 7.97632366))
            ThreePointArc((-19.05, 7.97632366), (-18.231250992, 8.736207565), (-19.05, 9.496091471))
            Line((-19.05, 9.496091471), (-19.05, 14.327741484))
            ThreePointArc((-19.05, 14.327741484), (-18.231250992, 15.08762539), (-19.05, 15.847509295))
            ThreePointArc((-19.05, 15.847509295), (-18.120176289, 18.120192083), (-15.847487039, 19.05))
            ThreePointArc((-15.847487039, 19.05), (-15.087603123, 18.231251131), (-14.327719207, 19.05))
            Line((-14.327719207, 19.05), (-9.498178704, 19.05))
            ThreePointArc((-9.498178704, 19.05), (-8.736178704, 18.288), (-7.974178704, 19.05))
            Line((-7.974178704, 19.05), (-5.617617549, 19.05))
            ThreePointArc((-5.617617549, 19.05), (-4.519044045, 18.594955955), (-4.064, 17.496382451))
            Line((-4.064, 17.496382451), (-4.064, 16.539617549))
            ThreePointArc((-4.064, 16.539617549), (-4.519044045, 15.441044045), (-5.617617549, 14.986))
            Line((-5.617617549, 14.986), (-9.3853, 14.986))
            ThreePointArc((-9.3853, 14.986), (-10.022898185, 14.721898185), (-10.287, 14.0843))
            Line((-10.287, 14.0843), (-10.287, 13.552357131))
            ThreePointArc((-10.287, 13.552357131), (-10.218362387, 13.207291992), (-10.022898969, 12.91475973))
        make_face()
        Circle(SKETCH1_R, mode=Mode.SUBTRACT)
    extrude(amount=-EXTRUDE1_DEPTH)

    # Sketch2 → Cut-Extrude1 (cut)
    with BuildSketch(Plane(origin=(0, 19.05, 0), x_dir=(1, 0, 0), z_dir=(0, 1, 0))):
        Polygon((19.05, 0), (-19.05, 2.664211535), (-19.05, 0), align=None)
    extrude(amount=-CUT_EXTRUDE1_DEPTH, mode=Mode.SUBTRACT)


solid = part.part
